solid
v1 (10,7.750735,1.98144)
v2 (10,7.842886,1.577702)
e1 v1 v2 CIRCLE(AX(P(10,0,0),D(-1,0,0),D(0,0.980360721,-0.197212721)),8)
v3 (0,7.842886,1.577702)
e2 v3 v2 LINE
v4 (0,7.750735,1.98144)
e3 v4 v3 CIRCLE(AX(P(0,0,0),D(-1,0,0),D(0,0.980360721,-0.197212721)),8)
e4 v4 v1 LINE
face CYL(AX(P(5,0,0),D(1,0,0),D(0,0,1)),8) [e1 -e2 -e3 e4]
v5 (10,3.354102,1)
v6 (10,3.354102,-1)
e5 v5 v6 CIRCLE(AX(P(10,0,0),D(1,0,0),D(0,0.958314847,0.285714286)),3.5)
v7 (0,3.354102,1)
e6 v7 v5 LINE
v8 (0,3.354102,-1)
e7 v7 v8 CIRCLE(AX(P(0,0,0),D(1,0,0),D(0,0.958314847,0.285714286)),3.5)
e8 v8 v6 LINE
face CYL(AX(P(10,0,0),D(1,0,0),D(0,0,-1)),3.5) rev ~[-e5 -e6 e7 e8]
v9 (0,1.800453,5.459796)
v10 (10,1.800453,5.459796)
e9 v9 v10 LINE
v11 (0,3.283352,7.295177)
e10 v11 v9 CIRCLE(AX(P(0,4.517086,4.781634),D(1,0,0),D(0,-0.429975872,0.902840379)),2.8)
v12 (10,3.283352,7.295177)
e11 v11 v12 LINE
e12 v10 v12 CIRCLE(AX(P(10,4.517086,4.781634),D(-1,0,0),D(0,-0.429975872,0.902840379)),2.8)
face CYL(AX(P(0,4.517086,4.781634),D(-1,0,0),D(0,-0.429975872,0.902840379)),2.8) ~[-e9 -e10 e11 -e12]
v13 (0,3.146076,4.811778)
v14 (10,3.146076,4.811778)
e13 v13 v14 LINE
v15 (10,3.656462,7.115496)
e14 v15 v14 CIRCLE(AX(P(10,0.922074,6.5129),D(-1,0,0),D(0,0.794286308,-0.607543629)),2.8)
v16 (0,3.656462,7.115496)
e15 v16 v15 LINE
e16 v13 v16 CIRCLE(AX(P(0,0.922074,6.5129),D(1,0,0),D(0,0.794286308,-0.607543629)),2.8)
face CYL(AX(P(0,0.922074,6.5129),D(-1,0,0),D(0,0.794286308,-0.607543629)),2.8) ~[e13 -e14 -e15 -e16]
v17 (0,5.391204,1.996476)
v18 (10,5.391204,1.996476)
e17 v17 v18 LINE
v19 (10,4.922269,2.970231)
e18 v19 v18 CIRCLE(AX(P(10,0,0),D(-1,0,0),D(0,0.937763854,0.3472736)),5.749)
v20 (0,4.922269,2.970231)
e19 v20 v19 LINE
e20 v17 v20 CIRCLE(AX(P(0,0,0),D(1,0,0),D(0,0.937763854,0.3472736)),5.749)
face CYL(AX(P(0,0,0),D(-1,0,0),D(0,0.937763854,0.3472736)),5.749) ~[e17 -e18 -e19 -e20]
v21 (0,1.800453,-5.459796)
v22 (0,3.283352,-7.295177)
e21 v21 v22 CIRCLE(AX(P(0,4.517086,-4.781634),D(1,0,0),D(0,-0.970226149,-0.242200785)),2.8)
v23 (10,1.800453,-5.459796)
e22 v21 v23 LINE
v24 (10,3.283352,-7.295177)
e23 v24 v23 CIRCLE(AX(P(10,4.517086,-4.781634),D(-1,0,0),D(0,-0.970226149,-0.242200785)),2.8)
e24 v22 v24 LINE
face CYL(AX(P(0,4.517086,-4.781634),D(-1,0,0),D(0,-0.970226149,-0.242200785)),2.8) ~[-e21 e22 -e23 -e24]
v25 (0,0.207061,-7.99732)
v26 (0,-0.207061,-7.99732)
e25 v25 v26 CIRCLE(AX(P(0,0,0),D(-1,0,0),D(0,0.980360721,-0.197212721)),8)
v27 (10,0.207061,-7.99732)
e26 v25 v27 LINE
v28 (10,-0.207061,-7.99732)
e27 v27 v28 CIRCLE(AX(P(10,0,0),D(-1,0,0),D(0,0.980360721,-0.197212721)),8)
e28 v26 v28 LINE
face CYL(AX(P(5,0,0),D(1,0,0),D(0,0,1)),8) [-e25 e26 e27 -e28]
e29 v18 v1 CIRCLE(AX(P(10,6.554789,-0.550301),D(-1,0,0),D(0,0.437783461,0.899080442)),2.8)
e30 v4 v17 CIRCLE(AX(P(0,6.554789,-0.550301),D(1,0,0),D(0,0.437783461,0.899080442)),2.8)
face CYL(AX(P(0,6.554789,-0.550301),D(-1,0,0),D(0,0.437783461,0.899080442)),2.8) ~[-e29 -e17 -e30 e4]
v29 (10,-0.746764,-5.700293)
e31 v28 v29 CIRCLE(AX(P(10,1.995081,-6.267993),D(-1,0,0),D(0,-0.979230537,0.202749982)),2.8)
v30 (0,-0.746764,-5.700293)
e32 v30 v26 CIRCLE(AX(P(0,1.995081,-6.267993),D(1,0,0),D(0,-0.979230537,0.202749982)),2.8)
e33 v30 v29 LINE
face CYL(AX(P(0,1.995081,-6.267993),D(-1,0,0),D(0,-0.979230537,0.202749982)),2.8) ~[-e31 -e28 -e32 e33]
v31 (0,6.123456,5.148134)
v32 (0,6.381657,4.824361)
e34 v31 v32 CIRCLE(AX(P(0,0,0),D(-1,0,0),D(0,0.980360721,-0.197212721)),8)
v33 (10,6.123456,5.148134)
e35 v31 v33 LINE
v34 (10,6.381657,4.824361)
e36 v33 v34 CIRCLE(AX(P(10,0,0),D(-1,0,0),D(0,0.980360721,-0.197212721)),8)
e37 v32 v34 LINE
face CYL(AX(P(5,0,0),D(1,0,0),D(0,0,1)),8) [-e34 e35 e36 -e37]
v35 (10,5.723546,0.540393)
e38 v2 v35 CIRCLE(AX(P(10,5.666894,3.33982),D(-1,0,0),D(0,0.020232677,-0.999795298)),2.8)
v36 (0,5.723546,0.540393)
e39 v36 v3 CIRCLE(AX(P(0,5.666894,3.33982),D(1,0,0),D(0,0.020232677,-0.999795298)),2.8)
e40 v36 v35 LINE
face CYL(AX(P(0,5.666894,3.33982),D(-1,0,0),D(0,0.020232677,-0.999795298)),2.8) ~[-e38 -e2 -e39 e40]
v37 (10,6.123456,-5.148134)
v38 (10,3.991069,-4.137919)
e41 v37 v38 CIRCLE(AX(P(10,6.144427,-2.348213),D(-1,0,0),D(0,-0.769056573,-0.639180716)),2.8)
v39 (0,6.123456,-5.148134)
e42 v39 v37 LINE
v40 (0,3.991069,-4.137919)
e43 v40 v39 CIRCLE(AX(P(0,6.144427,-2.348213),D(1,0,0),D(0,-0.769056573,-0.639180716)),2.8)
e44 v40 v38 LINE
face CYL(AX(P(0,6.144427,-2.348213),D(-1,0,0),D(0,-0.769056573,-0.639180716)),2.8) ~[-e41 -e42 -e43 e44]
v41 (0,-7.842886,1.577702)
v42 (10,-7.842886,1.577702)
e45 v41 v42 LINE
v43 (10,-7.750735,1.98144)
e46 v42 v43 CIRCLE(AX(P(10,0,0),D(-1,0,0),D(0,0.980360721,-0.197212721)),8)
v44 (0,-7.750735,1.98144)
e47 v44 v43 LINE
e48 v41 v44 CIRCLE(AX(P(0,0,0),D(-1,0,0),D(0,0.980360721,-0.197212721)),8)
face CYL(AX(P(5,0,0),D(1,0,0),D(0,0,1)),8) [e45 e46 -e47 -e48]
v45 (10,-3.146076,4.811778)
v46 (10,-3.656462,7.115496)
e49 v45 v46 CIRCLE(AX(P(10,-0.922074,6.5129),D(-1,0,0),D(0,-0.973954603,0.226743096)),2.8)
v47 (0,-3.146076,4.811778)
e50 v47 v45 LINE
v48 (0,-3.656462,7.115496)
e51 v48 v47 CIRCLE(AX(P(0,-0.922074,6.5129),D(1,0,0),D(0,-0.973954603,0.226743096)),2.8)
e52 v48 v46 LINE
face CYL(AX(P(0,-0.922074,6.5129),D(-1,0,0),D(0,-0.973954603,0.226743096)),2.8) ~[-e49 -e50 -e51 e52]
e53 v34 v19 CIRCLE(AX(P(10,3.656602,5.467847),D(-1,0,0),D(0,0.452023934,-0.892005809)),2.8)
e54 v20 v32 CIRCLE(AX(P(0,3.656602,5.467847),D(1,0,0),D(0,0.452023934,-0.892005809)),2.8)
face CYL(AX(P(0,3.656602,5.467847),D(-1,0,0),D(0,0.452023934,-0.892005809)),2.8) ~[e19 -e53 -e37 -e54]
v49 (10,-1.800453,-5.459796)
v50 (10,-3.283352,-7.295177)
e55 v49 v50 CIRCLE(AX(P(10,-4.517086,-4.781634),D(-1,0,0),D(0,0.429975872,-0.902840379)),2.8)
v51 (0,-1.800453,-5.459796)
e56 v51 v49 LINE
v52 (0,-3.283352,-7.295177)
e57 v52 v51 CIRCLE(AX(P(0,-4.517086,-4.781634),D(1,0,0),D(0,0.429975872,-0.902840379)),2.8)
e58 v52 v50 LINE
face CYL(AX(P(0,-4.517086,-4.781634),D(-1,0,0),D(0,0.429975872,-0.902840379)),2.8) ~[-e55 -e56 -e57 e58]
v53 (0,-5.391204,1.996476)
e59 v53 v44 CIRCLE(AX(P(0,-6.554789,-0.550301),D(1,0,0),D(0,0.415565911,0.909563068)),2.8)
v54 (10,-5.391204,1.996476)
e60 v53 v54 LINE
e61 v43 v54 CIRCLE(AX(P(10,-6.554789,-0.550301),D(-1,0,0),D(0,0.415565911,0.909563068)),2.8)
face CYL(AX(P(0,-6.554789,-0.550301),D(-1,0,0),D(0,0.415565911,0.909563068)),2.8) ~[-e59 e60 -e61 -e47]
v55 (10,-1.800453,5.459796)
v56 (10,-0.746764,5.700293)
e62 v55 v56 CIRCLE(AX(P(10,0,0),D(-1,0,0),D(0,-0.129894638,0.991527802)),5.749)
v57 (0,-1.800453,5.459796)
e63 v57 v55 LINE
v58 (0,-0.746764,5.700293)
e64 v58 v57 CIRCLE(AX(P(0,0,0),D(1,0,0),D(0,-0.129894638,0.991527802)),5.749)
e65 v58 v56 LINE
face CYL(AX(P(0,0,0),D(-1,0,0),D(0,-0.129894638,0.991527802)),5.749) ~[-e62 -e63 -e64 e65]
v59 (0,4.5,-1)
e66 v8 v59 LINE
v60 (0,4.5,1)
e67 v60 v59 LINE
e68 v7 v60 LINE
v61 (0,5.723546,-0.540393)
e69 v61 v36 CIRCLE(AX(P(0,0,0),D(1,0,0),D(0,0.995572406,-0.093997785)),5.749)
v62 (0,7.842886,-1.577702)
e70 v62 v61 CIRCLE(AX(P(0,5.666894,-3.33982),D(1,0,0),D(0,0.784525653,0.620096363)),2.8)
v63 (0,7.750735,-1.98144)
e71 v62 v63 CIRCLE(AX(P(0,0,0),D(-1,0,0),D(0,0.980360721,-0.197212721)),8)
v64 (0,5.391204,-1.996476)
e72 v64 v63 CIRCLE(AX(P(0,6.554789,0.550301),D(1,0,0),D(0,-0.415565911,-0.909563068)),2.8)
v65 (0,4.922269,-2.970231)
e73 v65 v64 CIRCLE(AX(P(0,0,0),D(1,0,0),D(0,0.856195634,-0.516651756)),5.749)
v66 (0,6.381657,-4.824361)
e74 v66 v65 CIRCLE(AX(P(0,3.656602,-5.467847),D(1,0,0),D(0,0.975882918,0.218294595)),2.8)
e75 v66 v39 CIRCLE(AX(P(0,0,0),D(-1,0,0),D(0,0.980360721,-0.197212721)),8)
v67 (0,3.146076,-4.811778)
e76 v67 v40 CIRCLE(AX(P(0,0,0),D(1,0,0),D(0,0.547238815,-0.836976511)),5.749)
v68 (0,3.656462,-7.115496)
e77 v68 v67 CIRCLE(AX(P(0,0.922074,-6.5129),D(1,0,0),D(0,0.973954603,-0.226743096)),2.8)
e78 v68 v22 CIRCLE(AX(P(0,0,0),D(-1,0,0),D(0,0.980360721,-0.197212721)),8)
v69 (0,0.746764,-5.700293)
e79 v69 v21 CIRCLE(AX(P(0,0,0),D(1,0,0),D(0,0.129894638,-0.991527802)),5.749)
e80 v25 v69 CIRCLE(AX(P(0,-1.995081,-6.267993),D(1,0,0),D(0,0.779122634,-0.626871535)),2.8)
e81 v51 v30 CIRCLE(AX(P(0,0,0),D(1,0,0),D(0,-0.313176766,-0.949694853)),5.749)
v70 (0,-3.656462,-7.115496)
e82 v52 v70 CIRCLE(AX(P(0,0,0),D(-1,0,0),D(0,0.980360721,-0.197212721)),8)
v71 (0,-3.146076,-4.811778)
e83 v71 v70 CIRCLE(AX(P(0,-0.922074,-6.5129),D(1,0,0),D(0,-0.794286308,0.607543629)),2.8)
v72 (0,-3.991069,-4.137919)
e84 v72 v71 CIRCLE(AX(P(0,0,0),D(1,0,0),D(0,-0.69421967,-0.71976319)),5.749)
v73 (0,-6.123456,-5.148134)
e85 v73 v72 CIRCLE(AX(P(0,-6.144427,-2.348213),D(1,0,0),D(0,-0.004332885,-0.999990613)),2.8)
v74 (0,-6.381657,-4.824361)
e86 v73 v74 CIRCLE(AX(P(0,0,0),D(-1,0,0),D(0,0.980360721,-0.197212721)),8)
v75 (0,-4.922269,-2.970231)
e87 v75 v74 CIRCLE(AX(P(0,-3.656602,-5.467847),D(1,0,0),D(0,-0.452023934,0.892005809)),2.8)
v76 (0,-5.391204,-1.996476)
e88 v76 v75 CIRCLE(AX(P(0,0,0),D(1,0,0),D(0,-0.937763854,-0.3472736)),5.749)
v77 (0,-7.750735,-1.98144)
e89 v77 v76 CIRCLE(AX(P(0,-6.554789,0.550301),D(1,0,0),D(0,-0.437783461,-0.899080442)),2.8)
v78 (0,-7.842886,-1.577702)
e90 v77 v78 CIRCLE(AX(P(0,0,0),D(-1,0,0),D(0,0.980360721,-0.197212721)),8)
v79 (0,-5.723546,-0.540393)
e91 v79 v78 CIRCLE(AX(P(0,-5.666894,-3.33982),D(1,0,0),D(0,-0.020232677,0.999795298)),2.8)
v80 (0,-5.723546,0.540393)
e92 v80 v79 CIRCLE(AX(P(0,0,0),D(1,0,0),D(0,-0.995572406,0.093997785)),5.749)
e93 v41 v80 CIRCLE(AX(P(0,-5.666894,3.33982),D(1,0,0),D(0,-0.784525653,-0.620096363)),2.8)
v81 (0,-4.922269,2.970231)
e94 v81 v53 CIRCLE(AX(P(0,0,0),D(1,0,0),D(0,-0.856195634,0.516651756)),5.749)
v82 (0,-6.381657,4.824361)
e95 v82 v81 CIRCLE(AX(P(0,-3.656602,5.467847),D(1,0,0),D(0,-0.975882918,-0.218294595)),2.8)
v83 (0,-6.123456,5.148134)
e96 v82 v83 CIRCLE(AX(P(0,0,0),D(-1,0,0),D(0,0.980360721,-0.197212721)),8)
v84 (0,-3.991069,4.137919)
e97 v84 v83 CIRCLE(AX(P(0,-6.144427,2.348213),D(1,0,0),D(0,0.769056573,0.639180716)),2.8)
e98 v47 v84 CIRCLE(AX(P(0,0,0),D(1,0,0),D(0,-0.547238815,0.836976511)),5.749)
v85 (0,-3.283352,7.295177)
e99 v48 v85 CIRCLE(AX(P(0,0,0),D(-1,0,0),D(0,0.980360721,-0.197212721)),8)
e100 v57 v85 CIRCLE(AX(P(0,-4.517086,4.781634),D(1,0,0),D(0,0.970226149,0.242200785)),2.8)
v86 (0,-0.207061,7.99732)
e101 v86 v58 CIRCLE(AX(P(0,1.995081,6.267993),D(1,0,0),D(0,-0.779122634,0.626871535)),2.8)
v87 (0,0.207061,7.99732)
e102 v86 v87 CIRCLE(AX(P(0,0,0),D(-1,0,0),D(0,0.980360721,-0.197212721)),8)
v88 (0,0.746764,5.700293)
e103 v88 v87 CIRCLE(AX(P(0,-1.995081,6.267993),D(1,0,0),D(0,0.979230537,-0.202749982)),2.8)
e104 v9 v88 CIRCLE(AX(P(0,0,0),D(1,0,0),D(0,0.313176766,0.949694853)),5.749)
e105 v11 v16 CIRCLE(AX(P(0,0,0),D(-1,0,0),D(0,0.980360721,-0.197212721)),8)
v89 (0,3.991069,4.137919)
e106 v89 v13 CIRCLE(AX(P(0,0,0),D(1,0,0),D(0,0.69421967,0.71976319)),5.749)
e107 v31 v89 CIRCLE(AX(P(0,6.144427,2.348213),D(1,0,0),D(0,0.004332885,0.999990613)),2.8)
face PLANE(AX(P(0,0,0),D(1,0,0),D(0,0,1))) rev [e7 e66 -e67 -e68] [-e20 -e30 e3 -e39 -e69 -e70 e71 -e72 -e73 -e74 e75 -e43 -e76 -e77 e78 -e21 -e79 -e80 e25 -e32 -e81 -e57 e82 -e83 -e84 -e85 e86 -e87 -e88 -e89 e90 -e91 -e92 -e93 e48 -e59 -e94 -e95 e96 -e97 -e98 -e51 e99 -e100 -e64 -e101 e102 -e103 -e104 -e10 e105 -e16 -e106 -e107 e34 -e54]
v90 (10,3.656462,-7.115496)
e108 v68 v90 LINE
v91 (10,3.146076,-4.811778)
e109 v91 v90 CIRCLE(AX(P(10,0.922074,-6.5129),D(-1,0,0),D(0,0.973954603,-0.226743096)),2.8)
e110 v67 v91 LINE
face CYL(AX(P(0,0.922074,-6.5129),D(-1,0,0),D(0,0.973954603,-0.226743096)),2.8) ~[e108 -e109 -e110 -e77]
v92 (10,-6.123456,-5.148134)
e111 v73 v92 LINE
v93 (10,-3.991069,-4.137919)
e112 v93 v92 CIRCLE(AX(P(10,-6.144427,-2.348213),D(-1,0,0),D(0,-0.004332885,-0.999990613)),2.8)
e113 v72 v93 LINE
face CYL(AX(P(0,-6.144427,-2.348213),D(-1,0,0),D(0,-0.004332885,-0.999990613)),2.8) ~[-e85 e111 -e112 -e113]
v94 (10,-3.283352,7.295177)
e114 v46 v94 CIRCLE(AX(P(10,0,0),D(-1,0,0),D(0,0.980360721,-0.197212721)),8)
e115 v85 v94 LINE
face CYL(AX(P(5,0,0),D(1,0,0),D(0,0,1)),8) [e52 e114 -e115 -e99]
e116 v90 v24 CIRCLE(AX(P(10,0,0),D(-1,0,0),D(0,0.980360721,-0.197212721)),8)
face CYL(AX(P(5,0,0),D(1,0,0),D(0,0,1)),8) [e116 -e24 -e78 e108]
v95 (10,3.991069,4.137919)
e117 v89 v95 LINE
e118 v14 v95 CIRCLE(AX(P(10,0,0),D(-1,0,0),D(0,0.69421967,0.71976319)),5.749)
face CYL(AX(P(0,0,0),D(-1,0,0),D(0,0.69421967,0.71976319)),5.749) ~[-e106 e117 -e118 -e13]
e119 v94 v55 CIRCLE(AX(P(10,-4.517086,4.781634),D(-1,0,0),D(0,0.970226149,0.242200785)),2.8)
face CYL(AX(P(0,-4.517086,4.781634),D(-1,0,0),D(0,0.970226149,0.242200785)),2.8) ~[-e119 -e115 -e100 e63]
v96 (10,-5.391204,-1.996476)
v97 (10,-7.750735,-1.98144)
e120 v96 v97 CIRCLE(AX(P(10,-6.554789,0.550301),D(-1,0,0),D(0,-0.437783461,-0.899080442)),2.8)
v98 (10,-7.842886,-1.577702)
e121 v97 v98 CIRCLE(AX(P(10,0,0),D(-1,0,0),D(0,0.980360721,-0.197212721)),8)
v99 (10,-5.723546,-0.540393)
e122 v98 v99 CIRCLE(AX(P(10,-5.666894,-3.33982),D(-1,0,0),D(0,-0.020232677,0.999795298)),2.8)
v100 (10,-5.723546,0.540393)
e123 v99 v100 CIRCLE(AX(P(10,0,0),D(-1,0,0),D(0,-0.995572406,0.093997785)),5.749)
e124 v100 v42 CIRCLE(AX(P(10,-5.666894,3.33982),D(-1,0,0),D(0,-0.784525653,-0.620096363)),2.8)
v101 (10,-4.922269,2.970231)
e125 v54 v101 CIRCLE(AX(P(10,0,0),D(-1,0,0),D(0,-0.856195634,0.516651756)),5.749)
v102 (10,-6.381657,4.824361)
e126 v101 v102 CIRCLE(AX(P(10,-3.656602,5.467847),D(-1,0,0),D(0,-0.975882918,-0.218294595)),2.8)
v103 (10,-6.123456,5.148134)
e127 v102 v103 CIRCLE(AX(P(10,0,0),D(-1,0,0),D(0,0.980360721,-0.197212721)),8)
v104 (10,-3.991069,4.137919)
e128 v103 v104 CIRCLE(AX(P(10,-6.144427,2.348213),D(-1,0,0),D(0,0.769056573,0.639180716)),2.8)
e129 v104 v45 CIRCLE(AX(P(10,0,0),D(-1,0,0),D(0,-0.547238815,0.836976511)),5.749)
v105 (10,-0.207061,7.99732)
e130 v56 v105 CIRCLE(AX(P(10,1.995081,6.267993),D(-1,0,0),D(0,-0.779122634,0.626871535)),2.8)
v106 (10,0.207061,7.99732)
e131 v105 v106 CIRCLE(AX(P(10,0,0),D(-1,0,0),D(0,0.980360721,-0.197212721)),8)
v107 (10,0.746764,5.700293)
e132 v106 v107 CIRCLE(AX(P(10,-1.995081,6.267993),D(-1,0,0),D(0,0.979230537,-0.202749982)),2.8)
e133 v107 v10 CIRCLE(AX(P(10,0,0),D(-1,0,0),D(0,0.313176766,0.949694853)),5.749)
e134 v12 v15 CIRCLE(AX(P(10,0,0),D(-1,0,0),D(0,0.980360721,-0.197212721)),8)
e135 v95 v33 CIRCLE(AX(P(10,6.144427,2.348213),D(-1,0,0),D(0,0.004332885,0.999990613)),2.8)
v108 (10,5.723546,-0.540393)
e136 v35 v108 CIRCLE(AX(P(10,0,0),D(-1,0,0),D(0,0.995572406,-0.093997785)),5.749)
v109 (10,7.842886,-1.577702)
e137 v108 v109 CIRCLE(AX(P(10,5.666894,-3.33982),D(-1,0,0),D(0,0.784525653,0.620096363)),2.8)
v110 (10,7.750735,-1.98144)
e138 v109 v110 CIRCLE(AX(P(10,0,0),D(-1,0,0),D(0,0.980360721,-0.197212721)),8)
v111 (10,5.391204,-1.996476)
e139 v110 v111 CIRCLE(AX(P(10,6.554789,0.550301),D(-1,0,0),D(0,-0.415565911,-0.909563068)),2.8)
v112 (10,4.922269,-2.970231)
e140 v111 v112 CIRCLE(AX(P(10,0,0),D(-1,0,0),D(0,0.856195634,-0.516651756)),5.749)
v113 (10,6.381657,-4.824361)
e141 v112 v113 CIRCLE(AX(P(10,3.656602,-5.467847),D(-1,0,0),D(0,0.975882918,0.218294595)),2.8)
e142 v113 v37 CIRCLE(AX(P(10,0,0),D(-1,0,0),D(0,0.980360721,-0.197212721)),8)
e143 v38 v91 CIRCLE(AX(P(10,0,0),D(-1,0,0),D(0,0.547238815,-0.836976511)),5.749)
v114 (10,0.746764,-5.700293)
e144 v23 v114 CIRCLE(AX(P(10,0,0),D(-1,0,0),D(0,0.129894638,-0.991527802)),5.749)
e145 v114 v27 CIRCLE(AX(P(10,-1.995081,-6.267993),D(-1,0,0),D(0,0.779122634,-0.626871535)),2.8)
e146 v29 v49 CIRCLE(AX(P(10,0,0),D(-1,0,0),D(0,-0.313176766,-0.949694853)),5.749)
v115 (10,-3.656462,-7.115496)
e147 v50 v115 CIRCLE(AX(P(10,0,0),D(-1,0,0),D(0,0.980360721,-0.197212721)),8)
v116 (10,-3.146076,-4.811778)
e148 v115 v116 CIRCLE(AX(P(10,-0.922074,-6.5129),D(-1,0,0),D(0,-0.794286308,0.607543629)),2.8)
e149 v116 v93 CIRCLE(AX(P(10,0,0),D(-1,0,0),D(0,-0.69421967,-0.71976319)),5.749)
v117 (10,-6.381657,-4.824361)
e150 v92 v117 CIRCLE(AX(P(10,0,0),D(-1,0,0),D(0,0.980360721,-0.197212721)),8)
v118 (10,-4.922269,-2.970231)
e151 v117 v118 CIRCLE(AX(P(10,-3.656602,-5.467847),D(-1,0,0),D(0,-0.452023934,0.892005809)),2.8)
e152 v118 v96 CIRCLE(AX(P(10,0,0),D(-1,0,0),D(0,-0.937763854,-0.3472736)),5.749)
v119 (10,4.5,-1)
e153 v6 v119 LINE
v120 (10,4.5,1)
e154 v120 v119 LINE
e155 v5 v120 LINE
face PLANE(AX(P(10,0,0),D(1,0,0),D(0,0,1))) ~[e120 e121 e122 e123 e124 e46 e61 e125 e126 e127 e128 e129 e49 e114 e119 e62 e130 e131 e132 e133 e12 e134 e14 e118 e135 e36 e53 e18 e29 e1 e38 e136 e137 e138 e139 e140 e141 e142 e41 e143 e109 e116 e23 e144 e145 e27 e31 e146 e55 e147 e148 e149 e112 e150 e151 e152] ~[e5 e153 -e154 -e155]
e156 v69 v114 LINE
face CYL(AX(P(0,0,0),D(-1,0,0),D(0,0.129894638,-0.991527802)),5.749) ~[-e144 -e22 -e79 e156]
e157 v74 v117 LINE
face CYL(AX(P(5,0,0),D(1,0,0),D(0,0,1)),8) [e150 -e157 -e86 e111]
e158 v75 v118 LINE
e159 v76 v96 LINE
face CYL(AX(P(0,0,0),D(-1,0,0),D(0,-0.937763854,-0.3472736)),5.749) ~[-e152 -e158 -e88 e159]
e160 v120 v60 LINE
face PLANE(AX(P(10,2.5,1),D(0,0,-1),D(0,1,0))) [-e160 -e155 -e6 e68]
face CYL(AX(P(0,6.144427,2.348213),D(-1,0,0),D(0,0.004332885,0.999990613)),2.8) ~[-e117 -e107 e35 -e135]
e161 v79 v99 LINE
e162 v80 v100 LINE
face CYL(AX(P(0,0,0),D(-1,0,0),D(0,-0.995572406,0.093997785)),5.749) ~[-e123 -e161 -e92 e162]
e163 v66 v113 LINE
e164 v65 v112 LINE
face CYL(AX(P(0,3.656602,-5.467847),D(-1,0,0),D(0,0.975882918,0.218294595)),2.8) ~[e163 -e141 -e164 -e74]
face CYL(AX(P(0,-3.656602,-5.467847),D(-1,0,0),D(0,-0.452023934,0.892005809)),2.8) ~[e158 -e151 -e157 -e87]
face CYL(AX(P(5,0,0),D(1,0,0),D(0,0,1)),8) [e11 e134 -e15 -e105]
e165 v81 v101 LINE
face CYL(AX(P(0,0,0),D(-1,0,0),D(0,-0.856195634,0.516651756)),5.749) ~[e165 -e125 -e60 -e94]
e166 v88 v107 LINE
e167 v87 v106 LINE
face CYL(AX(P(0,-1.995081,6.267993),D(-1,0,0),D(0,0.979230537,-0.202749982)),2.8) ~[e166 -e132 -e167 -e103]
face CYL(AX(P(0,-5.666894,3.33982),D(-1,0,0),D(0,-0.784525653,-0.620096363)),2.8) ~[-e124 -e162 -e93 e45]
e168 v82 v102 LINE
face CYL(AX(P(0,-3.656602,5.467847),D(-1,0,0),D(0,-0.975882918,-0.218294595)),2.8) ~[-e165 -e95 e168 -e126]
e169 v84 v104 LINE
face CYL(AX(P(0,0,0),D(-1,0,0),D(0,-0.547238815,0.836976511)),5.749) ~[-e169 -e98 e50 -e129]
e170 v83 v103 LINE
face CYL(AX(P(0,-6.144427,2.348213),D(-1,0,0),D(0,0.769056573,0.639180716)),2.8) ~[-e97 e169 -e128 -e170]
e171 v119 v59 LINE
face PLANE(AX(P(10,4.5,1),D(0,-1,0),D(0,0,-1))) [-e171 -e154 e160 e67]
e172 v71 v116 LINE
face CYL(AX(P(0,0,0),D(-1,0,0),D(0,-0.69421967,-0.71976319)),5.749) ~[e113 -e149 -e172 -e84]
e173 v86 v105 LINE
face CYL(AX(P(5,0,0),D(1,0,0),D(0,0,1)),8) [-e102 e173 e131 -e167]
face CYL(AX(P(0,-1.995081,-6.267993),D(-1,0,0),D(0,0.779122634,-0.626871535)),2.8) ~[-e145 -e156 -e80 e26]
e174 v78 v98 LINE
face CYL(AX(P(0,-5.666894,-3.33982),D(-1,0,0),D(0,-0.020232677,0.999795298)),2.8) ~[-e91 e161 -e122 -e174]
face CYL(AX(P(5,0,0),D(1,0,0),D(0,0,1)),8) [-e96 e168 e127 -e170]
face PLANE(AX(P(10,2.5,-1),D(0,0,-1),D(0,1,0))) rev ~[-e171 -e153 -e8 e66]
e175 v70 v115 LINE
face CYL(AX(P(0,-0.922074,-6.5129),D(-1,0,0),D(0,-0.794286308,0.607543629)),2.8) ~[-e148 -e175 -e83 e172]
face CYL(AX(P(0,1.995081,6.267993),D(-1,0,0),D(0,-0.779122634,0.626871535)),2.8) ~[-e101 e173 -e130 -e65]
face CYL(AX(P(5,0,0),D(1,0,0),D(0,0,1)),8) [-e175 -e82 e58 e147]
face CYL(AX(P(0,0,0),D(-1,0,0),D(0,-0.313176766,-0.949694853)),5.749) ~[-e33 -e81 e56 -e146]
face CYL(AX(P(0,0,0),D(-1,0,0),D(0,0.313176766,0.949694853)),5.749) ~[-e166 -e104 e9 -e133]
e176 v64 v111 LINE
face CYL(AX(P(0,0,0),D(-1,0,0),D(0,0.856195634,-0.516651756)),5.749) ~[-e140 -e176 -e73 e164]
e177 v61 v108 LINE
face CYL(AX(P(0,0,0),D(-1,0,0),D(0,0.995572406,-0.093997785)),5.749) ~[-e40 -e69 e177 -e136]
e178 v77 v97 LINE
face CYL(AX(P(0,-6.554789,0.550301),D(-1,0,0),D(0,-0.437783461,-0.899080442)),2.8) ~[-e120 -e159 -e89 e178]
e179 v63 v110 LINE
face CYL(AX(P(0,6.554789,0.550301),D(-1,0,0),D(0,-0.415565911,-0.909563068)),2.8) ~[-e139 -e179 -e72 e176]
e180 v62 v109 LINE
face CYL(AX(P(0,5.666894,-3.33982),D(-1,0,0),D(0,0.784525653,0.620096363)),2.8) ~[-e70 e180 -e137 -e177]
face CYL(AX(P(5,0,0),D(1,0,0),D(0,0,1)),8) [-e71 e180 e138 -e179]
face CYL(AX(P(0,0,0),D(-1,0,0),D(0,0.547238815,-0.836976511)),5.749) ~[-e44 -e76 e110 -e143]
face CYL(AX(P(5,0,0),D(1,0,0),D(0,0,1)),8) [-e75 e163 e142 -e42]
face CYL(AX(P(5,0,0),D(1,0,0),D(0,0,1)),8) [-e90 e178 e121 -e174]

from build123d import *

# Parameters (mm, degrees)
BASPROSKE_W        = 10
BASPROSKE_H        = 8
TOOTHCUT_DEPTH     = 16.099668871
TEETHCUTS_COUNT    = 14
TEETHCUTS_ANGLE    = 334.285714286
BORSKE_R           = 0.4
BORE_DEPTH         = 50.0000508
SKETCH1_R          = 3.5
CUT_EXTRUDE1_DEPTH = 10
SKETCH2_W          = 2
SKETCH2_H          = 2
CUT_EXTRUDE2_DEPTH = 10


with BuildPart() as part:
    # BasProSke → Base-Revolve (revolve)
    with BuildSketch(Plane(origin=(0, 0, 0), x_dir=(1, 0, 0), z_dir=(0, 1, 0)), mode=Mode.PRIVATE) as base_revolve_sk:
        with Locations((5, 4)):
            Rectangle(BASPROSKE_W, BASPROSKE_H)
    revolve(base_revolve_sk.sketch.rotate(Axis((-10, 0, 0), (1, 0, 0)), 180), axis=Axis((-10, 0, 0), (1, 0, 0)))

    # TooCutSke → ToothCut (cut, through all)
    with BuildSketch(Plane(origin=(0, 0, 0), x_dir=(0, 0, -1), z_dir=(1, 0, 0))):
        with BuildLine():
            ThreePointArc((0.540393256, 5.723545765), (0, 5.749), (-0.540393256, 5.723545765))
            ThreePointArc((-0.540393256, 5.723545765), (-0.832220085, 6.912663993), (-1.603550271, 7.863566092))
            ThreePointArc((-1.603550271, 7.863566092), (0, 8.0254), (1.603550271, 7.863566092))
            ThreePointArc((1.603550271, 7.863566092), (0.832220085, 6.912663993), (0.540393256, 5.723545765))
        make_face()
    toothcut = extrude(amount=TOOTHCUT_DEPTH, mode=Mode.SUBTRACT)

    # TeethCuts: ToothCut ×14 about axis
    teethcuts_axis = Axis((-10, 0, 0), (1, 0, 0))
    for i in range(1, TEETHCUTS_COUNT):
        add(toothcut.rotate(teethcuts_axis, i * TEETHCUTS_ANGLE / (TEETHCUTS_COUNT - 1)), mode=Mode.SUBTRACT)

    # BorSke → Bore (cut, symmetric)
    with BuildSketch(Plane(origin=(0, 0, 0), x_dir=(0, 0, -1), z_dir=(1, 0, 0))):
        with Locations(Location((0, 0, 0), (0, 0, 180))):
            Circle(BORSKE_R)
    extrude(amount=BORE_DEPTH, both=True, mode=Mode.SUBTRACT)

    # Sketch1 → Cut-Extrude1 (cut)
    with BuildSketch(Plane(origin=(10, 0, 0), x_dir=(0, 0, -1), z_dir=(1, 0, 0))):
        Circle(SKETCH1_R)
    extrude(amount=-CUT_EXTRUDE1_DEPTH, mode=Mode.SUBTRACT)

    # Sketch2 → Cut-Extrude2 (cut)
    with BuildSketch(Plane(origin=(10, 0, 0), x_dir=(0, 0, -1), z_dir=(1, 0, 0))):
        with Locations((0, 3.5)):
            Rectangle(SKETCH2_W, SKETCH2_H)
    extrude(amount=-CUT_EXTRUDE2_DEPTH, mode=Mode.SUBTRACT)


solid = part.part
